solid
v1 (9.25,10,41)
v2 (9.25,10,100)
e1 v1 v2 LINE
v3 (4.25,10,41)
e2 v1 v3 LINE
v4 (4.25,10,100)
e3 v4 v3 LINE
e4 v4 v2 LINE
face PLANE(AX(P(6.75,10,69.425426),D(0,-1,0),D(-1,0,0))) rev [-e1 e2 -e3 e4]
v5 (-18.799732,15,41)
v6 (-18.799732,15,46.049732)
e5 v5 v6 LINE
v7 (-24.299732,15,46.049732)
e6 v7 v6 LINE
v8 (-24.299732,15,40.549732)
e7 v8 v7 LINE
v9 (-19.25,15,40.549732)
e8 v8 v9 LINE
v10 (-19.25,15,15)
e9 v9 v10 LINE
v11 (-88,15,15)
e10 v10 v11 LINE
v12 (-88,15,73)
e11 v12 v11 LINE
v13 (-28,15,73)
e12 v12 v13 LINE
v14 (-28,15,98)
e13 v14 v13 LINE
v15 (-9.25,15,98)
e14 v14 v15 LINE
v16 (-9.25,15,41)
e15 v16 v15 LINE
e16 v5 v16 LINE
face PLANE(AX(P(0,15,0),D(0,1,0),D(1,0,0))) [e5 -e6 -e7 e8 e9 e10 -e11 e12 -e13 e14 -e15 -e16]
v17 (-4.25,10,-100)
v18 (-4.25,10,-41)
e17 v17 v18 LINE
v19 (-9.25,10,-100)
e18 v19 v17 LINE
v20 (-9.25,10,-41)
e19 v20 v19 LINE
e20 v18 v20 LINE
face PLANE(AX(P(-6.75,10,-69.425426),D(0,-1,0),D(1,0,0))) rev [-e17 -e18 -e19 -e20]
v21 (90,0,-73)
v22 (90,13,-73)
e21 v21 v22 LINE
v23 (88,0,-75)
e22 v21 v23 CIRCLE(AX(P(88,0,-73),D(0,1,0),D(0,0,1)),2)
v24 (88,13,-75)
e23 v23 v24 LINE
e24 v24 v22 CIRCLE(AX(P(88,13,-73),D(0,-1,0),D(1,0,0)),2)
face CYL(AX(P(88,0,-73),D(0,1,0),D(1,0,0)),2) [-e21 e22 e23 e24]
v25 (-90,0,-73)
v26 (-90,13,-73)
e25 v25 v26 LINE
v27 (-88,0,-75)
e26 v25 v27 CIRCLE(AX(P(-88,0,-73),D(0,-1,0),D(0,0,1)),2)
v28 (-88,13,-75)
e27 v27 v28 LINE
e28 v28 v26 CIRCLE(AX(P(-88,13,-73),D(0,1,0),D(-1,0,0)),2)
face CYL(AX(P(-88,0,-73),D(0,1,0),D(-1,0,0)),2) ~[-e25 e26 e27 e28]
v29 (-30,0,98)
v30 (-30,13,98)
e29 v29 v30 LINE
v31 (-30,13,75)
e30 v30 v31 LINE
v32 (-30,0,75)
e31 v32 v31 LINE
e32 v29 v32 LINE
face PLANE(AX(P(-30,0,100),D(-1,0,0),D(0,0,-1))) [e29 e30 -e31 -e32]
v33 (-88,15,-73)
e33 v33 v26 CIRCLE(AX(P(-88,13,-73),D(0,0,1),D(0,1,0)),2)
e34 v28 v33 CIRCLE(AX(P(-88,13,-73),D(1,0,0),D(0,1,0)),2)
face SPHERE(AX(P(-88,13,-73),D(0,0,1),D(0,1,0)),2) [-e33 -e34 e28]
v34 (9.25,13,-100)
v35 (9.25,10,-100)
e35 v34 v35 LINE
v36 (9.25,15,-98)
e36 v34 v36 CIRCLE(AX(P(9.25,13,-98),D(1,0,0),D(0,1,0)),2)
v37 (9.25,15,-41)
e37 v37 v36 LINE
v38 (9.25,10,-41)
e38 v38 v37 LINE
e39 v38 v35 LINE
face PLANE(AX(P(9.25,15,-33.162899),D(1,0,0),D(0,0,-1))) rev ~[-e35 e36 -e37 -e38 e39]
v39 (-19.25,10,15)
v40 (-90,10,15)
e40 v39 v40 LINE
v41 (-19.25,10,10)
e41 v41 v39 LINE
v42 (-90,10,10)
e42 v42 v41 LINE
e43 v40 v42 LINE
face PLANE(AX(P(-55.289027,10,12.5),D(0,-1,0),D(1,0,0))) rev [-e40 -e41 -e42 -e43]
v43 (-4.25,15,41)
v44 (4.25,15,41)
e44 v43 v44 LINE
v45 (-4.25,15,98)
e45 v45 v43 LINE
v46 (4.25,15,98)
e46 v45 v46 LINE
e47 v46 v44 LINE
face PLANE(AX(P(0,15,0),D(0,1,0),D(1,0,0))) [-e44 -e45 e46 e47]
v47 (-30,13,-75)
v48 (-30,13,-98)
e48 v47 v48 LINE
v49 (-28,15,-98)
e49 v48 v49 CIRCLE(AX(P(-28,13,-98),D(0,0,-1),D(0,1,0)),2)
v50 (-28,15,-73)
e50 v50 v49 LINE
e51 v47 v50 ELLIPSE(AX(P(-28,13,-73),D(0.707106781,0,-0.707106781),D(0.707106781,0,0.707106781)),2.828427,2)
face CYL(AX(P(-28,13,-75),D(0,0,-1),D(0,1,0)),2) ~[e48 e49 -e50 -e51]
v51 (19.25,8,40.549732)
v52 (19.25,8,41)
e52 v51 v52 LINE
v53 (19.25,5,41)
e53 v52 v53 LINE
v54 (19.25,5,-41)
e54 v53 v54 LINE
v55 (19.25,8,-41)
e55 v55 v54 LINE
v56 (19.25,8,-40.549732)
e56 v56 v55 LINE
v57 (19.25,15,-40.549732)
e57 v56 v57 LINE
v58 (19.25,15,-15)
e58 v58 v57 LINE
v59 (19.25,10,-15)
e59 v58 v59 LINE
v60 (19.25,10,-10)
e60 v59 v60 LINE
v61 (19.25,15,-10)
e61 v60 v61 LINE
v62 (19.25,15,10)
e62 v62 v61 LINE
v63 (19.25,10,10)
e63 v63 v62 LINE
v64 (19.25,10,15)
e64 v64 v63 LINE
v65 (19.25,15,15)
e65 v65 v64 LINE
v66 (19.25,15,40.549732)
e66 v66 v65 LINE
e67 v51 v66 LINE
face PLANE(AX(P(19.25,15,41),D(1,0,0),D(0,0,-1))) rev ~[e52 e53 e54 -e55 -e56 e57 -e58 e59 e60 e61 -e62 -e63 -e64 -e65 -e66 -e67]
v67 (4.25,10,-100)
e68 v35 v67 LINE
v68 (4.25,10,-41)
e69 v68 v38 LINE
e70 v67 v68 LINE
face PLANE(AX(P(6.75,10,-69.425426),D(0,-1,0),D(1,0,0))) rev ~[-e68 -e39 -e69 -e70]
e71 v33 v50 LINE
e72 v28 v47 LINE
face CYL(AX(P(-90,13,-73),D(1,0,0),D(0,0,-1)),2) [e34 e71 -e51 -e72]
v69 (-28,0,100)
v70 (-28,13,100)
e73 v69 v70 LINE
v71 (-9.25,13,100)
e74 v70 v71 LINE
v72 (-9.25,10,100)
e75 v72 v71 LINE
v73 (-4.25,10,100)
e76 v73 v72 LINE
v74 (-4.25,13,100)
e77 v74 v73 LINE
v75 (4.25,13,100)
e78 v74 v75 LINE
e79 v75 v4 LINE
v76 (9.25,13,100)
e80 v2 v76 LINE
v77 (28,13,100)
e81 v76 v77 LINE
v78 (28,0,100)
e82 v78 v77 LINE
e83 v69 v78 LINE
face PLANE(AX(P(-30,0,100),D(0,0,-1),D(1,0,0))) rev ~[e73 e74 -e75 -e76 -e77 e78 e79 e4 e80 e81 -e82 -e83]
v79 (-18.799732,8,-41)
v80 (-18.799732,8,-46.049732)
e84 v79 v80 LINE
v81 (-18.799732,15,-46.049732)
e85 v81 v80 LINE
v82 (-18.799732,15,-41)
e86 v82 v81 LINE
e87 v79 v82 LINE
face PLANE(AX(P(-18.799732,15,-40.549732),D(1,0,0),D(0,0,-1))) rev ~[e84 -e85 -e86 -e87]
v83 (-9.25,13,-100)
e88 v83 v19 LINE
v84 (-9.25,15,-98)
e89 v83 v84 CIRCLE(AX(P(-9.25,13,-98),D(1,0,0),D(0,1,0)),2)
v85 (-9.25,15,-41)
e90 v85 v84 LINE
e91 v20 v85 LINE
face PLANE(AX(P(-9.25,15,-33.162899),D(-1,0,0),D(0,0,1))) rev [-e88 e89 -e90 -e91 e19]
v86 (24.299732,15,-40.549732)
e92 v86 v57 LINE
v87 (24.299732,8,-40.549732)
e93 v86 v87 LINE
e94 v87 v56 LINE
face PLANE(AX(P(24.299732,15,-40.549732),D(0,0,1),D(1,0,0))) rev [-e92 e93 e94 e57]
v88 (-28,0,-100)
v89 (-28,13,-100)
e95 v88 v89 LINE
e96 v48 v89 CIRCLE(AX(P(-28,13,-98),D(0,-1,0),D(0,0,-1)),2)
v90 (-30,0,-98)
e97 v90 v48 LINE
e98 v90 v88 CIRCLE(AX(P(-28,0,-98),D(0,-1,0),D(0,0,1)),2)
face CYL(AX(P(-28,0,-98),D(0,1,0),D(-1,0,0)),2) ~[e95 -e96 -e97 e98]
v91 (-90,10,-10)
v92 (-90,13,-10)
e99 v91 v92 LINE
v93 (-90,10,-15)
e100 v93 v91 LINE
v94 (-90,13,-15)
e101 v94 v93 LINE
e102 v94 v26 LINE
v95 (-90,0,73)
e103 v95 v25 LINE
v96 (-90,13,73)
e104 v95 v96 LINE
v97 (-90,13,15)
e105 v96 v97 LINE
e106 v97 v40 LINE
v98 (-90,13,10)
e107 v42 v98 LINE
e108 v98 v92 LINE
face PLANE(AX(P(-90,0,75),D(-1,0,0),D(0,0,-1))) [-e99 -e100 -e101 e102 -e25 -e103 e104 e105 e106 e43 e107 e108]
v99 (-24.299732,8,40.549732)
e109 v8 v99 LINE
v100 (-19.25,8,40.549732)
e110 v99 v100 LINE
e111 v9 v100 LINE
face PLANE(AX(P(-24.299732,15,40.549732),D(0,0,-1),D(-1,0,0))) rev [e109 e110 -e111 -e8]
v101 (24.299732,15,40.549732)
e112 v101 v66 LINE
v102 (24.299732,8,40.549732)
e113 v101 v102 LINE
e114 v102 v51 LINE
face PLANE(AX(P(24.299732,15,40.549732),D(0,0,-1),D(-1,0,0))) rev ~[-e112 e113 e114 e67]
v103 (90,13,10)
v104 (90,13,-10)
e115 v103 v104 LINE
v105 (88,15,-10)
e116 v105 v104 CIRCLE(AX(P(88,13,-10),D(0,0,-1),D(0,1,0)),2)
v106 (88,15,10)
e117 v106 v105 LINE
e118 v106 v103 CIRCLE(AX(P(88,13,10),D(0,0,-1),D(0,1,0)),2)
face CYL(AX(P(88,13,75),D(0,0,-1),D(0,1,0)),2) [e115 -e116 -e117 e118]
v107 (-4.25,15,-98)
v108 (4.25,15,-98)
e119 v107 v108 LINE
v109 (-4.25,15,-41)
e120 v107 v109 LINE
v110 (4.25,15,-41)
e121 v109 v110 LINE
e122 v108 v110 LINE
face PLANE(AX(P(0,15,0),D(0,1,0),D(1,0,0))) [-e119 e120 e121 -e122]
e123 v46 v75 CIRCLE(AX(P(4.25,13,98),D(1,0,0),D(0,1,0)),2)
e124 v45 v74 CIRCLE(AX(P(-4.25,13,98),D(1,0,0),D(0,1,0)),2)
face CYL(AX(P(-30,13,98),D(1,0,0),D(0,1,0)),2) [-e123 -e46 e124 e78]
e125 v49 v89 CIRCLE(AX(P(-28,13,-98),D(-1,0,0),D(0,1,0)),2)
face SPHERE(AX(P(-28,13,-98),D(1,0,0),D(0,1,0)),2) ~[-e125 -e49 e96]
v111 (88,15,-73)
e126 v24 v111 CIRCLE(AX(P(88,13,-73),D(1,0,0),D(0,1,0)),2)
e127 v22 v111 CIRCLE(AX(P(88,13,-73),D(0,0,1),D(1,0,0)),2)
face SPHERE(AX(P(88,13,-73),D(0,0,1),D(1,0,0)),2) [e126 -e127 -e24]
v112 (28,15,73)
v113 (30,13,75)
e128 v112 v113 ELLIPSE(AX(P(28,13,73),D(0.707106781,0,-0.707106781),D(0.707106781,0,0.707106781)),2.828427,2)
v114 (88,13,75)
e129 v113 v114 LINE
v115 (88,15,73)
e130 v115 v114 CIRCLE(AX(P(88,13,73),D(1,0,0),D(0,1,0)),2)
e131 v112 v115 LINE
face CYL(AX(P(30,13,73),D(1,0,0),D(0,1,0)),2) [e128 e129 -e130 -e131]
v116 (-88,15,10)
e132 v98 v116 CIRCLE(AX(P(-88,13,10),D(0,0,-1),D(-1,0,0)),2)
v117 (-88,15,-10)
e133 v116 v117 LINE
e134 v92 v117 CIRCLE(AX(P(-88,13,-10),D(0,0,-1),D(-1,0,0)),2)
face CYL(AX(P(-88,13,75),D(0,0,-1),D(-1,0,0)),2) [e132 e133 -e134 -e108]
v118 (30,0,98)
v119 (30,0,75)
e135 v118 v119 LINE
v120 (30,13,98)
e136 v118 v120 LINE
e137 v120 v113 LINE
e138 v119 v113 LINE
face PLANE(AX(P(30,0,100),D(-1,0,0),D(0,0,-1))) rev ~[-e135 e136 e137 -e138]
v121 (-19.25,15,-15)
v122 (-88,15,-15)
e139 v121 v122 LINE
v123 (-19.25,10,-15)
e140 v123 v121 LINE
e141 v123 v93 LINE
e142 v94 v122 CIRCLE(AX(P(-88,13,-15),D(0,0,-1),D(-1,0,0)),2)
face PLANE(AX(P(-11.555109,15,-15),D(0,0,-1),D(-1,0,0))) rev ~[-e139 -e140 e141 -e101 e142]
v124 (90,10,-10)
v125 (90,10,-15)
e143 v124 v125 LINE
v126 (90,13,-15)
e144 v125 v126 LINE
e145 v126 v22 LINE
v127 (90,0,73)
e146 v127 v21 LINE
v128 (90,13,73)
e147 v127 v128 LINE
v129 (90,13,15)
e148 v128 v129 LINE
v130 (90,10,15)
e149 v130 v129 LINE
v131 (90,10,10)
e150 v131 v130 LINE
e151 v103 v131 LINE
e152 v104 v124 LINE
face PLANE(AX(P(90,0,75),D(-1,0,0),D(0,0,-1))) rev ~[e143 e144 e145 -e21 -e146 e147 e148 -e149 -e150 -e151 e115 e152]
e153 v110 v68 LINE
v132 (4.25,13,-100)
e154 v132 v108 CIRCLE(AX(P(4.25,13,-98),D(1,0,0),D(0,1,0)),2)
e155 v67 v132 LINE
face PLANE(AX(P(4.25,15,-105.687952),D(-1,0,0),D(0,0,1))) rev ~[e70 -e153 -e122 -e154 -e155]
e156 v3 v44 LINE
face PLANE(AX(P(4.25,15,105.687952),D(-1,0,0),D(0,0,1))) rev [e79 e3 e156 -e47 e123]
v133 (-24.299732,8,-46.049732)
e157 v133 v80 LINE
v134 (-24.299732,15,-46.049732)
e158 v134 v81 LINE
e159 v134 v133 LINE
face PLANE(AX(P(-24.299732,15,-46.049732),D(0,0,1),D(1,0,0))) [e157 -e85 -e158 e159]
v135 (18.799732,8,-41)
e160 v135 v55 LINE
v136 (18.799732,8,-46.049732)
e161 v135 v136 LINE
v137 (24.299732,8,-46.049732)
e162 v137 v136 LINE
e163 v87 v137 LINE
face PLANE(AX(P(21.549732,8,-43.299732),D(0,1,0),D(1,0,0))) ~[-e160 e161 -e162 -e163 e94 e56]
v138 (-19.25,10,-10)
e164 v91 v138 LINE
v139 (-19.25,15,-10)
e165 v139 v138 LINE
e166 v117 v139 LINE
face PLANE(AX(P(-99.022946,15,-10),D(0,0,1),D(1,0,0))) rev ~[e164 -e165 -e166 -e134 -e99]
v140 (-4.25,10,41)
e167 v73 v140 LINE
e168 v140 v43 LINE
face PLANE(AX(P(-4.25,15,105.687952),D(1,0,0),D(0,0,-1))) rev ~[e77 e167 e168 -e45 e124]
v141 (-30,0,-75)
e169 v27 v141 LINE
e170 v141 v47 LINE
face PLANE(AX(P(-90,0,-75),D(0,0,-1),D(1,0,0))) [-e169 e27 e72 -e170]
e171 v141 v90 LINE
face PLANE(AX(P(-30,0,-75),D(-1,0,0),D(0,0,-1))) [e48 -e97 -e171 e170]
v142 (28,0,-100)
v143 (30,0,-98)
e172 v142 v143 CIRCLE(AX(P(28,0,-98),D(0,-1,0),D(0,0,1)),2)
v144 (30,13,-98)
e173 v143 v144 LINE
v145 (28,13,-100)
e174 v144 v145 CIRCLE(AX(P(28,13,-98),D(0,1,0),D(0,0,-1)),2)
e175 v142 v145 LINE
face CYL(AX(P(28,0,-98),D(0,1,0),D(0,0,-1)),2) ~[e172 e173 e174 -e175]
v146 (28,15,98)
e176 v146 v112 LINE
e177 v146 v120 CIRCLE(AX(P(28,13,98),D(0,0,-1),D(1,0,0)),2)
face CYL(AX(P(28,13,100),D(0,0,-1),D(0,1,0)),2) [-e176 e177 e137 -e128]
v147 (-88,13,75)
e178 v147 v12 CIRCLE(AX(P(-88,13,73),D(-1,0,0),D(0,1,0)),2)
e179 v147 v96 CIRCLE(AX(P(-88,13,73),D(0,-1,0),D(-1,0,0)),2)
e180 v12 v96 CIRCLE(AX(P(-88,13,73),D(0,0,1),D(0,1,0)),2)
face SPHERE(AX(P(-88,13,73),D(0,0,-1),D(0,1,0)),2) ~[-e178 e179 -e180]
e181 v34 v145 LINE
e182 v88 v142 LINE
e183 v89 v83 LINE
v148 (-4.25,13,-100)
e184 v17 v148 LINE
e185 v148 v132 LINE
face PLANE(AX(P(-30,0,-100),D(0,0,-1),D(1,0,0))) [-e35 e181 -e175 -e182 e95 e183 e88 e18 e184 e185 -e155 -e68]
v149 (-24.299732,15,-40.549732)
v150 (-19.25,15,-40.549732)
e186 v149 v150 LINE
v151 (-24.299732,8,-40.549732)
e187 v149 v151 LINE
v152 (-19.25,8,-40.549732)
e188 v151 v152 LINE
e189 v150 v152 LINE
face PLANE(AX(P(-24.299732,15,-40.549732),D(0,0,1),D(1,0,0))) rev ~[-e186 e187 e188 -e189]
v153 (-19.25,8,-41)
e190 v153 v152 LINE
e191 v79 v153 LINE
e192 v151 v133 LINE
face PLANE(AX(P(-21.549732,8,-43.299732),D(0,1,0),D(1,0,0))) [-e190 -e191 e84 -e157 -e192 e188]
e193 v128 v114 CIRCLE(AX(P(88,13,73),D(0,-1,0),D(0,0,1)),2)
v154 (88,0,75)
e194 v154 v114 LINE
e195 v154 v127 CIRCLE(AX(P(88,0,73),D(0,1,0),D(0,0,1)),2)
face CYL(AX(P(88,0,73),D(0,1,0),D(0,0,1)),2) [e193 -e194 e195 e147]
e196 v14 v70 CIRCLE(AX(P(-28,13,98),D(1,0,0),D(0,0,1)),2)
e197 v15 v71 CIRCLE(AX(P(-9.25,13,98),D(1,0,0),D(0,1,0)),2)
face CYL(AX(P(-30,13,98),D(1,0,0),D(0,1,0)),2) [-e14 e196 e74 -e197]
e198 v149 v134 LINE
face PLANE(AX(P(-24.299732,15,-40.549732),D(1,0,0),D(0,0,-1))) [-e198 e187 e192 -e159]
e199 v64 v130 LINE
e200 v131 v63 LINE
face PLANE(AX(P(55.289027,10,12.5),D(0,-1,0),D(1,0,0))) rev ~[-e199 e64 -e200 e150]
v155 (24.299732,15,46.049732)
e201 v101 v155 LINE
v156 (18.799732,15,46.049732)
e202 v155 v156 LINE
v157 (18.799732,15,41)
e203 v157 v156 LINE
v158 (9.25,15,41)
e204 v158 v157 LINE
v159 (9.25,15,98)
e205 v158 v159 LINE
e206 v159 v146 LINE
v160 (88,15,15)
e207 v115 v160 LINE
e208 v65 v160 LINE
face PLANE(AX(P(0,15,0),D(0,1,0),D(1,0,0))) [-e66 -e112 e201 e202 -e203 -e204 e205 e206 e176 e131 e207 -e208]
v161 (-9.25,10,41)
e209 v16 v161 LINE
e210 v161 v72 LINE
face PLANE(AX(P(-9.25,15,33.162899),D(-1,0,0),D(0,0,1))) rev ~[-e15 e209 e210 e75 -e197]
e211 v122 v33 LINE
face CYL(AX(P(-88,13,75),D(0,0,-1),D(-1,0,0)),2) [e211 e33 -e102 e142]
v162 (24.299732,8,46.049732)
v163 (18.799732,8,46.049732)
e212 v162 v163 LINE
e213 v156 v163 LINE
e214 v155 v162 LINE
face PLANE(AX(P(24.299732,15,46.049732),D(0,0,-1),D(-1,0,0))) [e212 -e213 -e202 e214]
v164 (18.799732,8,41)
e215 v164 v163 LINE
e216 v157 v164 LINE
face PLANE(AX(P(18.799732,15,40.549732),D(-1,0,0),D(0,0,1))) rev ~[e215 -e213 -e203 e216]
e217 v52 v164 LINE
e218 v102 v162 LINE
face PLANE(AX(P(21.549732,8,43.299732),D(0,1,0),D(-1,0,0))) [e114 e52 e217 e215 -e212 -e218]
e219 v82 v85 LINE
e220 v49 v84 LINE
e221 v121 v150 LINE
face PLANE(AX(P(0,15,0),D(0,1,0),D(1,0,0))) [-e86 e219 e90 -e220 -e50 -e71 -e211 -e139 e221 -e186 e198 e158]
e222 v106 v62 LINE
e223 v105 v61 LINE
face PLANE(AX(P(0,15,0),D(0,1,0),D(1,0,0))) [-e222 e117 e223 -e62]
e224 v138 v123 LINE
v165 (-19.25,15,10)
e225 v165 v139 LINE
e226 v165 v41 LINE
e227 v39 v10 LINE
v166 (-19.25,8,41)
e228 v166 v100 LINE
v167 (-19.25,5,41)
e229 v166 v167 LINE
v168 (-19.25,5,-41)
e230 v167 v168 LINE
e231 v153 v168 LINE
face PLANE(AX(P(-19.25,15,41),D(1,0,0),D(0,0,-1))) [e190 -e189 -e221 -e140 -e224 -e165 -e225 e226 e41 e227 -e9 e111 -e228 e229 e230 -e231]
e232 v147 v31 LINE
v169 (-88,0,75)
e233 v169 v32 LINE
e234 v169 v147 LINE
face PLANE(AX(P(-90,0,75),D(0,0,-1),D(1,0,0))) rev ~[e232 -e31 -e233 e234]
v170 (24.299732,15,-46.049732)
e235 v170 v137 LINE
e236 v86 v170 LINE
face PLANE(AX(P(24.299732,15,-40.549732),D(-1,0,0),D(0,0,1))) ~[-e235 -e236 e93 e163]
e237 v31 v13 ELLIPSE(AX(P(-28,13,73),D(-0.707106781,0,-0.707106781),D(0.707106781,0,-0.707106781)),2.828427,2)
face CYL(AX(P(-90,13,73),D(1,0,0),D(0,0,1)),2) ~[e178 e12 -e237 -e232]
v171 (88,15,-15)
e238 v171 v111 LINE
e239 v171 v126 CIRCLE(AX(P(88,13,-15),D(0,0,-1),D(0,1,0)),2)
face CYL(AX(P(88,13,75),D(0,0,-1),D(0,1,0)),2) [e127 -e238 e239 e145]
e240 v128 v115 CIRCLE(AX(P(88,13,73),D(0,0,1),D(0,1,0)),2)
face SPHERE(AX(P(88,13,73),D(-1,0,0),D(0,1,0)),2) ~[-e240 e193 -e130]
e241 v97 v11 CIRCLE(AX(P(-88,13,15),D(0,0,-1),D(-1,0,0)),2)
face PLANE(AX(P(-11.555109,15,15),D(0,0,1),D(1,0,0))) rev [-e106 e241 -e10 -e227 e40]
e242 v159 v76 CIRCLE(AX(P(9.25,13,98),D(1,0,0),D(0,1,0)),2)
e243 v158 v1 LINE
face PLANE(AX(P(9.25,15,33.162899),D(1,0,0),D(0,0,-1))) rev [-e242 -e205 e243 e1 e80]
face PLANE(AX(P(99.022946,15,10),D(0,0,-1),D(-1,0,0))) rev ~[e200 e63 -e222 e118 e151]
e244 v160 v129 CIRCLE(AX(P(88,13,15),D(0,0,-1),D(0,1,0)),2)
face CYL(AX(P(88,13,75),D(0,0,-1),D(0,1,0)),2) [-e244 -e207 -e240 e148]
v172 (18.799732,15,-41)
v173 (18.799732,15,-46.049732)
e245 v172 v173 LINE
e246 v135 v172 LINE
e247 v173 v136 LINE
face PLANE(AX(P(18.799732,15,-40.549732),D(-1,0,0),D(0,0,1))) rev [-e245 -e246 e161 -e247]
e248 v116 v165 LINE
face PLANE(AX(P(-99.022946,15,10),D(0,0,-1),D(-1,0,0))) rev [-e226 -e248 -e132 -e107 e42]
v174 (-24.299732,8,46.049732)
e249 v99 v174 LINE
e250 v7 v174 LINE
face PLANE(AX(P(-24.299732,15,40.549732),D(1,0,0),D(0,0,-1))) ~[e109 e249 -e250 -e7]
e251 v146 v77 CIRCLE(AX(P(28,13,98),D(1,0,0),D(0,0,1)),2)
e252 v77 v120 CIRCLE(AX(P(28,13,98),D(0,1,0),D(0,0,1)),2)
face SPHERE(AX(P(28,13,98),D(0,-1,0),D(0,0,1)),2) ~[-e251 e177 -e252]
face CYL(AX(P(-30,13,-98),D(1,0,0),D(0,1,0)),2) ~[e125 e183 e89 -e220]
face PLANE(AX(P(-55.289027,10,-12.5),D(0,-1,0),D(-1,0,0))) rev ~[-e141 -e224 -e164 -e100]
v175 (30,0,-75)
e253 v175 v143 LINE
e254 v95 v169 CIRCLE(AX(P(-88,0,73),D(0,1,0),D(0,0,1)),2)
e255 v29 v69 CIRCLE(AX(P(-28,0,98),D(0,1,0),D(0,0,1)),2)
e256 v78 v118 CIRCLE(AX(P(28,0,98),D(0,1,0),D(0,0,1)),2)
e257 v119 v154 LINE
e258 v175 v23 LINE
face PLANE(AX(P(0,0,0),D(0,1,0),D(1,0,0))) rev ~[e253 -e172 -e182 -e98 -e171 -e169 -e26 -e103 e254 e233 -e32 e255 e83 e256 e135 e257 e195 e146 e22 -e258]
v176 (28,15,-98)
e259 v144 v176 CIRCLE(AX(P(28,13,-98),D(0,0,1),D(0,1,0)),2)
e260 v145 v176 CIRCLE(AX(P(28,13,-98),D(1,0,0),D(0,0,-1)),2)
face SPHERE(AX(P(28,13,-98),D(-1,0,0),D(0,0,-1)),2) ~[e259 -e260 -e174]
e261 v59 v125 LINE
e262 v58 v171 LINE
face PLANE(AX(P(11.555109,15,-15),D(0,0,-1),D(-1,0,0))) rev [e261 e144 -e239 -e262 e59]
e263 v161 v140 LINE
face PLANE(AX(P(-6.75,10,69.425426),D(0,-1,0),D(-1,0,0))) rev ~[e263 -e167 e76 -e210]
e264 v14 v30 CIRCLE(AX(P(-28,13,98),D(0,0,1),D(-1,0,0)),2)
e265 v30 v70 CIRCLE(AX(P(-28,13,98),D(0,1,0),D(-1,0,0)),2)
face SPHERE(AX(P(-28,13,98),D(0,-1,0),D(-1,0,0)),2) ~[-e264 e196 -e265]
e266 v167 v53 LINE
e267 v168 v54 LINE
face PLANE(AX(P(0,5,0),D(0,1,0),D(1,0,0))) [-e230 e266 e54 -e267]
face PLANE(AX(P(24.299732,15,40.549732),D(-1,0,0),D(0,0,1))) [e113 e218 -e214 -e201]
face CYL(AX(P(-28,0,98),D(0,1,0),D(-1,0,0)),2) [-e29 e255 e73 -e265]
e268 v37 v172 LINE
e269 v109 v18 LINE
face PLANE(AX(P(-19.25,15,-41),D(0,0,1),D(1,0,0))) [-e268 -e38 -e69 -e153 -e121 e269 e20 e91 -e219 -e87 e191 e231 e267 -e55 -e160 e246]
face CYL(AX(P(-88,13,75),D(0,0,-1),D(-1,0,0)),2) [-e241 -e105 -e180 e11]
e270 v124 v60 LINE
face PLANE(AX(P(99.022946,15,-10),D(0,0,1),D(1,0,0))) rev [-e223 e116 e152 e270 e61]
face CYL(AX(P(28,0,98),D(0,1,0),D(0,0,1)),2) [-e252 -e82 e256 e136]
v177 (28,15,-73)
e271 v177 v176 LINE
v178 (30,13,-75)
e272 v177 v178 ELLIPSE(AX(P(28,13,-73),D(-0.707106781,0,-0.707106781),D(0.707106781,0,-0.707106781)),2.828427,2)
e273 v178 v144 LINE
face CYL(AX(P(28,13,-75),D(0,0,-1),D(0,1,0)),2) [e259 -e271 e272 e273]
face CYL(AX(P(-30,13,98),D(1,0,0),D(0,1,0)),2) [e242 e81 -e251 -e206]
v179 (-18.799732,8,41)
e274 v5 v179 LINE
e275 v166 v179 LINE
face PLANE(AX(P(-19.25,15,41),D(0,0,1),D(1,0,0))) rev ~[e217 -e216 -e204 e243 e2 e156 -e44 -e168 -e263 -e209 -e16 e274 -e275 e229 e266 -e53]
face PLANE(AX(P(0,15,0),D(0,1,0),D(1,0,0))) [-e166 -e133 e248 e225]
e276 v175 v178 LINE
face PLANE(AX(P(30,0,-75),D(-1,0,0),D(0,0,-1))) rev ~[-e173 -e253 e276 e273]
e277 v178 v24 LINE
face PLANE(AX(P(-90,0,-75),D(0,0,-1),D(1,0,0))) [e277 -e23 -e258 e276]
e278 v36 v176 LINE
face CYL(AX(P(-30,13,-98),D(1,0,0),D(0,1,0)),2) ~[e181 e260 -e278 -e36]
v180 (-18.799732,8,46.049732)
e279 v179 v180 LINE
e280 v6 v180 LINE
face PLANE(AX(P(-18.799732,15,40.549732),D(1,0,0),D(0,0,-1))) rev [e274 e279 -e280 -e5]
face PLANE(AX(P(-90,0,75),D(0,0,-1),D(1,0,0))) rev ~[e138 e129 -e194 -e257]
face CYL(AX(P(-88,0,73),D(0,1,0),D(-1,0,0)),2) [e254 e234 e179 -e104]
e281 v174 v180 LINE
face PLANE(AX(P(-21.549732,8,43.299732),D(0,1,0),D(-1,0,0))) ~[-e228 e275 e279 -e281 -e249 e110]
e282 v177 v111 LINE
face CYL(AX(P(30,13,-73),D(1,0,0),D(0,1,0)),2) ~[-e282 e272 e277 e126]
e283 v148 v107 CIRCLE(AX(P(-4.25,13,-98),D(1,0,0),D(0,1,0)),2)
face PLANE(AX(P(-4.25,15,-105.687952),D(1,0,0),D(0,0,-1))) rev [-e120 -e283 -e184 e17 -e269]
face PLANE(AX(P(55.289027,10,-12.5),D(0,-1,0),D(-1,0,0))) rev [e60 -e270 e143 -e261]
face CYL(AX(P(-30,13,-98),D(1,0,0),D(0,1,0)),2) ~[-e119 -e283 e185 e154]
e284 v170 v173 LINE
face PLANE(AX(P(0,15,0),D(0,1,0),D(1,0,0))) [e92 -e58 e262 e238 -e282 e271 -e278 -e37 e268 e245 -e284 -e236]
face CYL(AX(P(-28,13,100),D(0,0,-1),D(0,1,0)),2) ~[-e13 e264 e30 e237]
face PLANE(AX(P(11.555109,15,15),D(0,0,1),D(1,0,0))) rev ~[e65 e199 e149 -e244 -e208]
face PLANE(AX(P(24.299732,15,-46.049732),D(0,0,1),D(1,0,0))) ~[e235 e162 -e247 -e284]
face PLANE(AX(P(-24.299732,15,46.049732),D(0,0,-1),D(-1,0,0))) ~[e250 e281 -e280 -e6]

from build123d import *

# Parameters (mm, degrees)
SKETCH1_W                                  = 180
SKETCH1_H                                  = 150
BOSS_EXTRUDE1_DEPTH                        = 15
SKETCH7_W                                  = 60
SKETCH7_H                                  = 25
BOSS_EXTRUDE6_DEPTH                        = 15
FILLET1_R                                  = 2
SKETCH2_W                                  = 38.5
SKETCH2_H                                  = 82
CUT_EXTRUDE1_DEPTH                         = 10
CUT_EXTRUDE3_DEPTH                         = 5
SKETCH11_W                                 = 5.5
SKETCH11_H                                 = 5.5
CUT_EXTRUDE6_DEPTH                         = 7
MIRROR3_AT_THE_SECOND_PLANE_COPY_1_SKETC_W = 5.5
MIRROR3_AT_THE_SECOND_PLANE_COPY_1_SKETC_H = 5.5
MIRROR3_AT_THE_SECOND_PLANE_COPY_1_DEPTH   = 7
MIRROR4_AT_THE_SECOND_PLANE_COPY_1_DEPTH   = 5


with BuildPart() as part:
    # Sketch1 → Boss-Extrude1 (new body)
    with BuildSketch(Plane(origin=(0, 0, 0), x_dir=(1, 0, 0), z_dir=(0, 1, 0))):
        Rectangle(SKETCH1_W, SKETCH1_H)
    extrude(amount=BOSS_EXTRUDE1_DEPTH)

    # Sketch7 → Boss-Extrude6 (add)
    with BuildSketch(Plane(origin=(0, 0, 0), x_dir=(1, 0, 0), z_dir=(0, 1, 0))):
        with Locations((0, -87.5)):
            Rectangle(SKETCH7_W, SKETCH7_H)
        with Locations((0, 87.5)):
            Rectangle(SKETCH7_W, SKETCH7_H)
    extrude(amount=BOSS_EXTRUDE6_DEPTH)

    # Fillet1
    fillet1_edges = [part.edges().sort_by_distance(p)[0] for p in [
        (-90, 15, 0),
        (60, 15, 75),
        (-60, 15, 75),
        (-30, 7.5, 100),
        (30, 7.5, 100),
        (-30, 15, 87.5),
        (0, 15, 100),
        (30, 15, 87.5),
        (-60, 15, -75),
        (0, 15, -100),
        (30, 7.5, -100),
        (-30, 15, -87.5),
        (-30, 7.5, -100),
        (30, 15, -87.5),
        (90, 15, 0),
        (90, 7.5, 75),
        (-90, 7.5, 75),
        (-90, 7.5, -75),
        (90, 7.5, -75),
        (60, 15, -75),
    ]]
    fillet(fillet1_edges, radius=FILLET1_R)

    # Sketch2 → Cut-Extrude1 (cut)
    with BuildSketch(Plane(origin=(0, 15, 0), x_dir=(1, 0, 0), z_dir=(0, 1, 0))):
        Rectangle(SKETCH2_W, SKETCH2_H)
    extrude(amount=-CUT_EXTRUDE1_DEPTH, mode=Mode.SUBTRACT)

    # Sketch10 → Cut-Extrude3 (cut)
    with BuildSketch(Plane(origin=(0, 15, 0), x_dir=(1, 0, 0), z_dir=(0, 1, 0))):
        Polygon((-9.25, -40.5), (-9.25, -33.162899401), (-4.25, -33.162899401), (-4.25, -40.5), (-4.25, -105.687952047), (-9.25, -105.687952047), align=None)
        Polygon((-99.022946063, 15), (-19.25, 15), (-11.555108838, 15), (-11.555108838, 10), (-19.25, 10), (-99.022946063, 10), align=None)
    cut_extrude3 = extrude(amount=-CUT_EXTRUDE3_DEPTH, mode=Mode.SUBTRACT)

    # Sketch11 → Cut-Extrude6 (cut)
    with BuildSketch(Plane(origin=(0, 15, 0), x_dir=(1, 0, 0), z_dir=(0, 1, 0))):
        with Locations((-21.549732367, 43.299732367)):
            Rectangle(SKETCH11_W, SKETCH11_H)
    cut_extrude6 = extrude(amount=-CUT_EXTRUDE6_DEPTH, mode=Mode.SUBTRACT)

    # Mirror3: Cut-Extrude6 across plane
    add(cut_extrude6.mirror(Plane(origin=(0, 0, 0), x_dir=(0, 0, 1), z_dir=(1, 0, 0))), mode=Mode.SUBTRACT)

    # Mirror3 at the second plane: Cut-Extrude6 across plane
    add(cut_extrude6.mirror(Plane.XY), mode=Mode.SUBTRACT)

    # Mirror3 at the second plane copy 1 sketc → Mirror3 at the second plane copy 1 (cut)
    with BuildSketch(Plane(origin=(0, 15, 0), x_dir=(-1, 0, 0), z_dir=(0, 1, 0))):
        with Locations((-21.549732367, 43.299732367)):
            Rectangle(MIRROR3_AT_THE_SECOND_PLANE_COPY_1_SKETC_W, MIRROR3_AT_THE_SECOND_PLANE_COPY_1_SKETC_H)
    extrude(amount=-MIRROR3_AT_THE_SECOND_PLANE_COPY_1_DEPTH, mode=Mode.SUBTRACT)

    # Mirror4: Cut-Extrude3 across plane
    add(cut_extrude3.mirror(Plane(origin=(0, 0, 0), x_dir=(0, 0, 1), z_dir=(1, 0, 0))), mode=Mode.SUBTRACT)

    # Mirror4 at the second plane: Cut-Extrude3 across plane
    add(cut_extrude3.mirror(Plane.XY), mode=Mode.SUBTRACT)

    # Mirror4 at the second plane copy 1 sketc → Mirror4 at the second plane copy 1 (cut)
    with BuildSketch(Plane(origin=(0, 15, 0), x_dir=(-1, 0, 0), z_dir=(0, 1, 0))):
        Polygon((-9.25, -40.5), (-9.25, -33.162899401), (-4.25, -33.162899401), (-4.25, -40.5), (-4.25, -105.687952047), (-9.25, -105.687952047), align=None)
        Polygon((-99.022946063, 15), (-19.25, 15), (-11.555108838, 15), (-11.555108838, 10), (-19.25, 10), (-99.022946063, 10), align=None)
    extrude(amount=-MIRROR4_AT_THE_SECOND_PLANE_COPY_1_DEPTH, mode=Mode.SUBTRACT)


solid = part.part
